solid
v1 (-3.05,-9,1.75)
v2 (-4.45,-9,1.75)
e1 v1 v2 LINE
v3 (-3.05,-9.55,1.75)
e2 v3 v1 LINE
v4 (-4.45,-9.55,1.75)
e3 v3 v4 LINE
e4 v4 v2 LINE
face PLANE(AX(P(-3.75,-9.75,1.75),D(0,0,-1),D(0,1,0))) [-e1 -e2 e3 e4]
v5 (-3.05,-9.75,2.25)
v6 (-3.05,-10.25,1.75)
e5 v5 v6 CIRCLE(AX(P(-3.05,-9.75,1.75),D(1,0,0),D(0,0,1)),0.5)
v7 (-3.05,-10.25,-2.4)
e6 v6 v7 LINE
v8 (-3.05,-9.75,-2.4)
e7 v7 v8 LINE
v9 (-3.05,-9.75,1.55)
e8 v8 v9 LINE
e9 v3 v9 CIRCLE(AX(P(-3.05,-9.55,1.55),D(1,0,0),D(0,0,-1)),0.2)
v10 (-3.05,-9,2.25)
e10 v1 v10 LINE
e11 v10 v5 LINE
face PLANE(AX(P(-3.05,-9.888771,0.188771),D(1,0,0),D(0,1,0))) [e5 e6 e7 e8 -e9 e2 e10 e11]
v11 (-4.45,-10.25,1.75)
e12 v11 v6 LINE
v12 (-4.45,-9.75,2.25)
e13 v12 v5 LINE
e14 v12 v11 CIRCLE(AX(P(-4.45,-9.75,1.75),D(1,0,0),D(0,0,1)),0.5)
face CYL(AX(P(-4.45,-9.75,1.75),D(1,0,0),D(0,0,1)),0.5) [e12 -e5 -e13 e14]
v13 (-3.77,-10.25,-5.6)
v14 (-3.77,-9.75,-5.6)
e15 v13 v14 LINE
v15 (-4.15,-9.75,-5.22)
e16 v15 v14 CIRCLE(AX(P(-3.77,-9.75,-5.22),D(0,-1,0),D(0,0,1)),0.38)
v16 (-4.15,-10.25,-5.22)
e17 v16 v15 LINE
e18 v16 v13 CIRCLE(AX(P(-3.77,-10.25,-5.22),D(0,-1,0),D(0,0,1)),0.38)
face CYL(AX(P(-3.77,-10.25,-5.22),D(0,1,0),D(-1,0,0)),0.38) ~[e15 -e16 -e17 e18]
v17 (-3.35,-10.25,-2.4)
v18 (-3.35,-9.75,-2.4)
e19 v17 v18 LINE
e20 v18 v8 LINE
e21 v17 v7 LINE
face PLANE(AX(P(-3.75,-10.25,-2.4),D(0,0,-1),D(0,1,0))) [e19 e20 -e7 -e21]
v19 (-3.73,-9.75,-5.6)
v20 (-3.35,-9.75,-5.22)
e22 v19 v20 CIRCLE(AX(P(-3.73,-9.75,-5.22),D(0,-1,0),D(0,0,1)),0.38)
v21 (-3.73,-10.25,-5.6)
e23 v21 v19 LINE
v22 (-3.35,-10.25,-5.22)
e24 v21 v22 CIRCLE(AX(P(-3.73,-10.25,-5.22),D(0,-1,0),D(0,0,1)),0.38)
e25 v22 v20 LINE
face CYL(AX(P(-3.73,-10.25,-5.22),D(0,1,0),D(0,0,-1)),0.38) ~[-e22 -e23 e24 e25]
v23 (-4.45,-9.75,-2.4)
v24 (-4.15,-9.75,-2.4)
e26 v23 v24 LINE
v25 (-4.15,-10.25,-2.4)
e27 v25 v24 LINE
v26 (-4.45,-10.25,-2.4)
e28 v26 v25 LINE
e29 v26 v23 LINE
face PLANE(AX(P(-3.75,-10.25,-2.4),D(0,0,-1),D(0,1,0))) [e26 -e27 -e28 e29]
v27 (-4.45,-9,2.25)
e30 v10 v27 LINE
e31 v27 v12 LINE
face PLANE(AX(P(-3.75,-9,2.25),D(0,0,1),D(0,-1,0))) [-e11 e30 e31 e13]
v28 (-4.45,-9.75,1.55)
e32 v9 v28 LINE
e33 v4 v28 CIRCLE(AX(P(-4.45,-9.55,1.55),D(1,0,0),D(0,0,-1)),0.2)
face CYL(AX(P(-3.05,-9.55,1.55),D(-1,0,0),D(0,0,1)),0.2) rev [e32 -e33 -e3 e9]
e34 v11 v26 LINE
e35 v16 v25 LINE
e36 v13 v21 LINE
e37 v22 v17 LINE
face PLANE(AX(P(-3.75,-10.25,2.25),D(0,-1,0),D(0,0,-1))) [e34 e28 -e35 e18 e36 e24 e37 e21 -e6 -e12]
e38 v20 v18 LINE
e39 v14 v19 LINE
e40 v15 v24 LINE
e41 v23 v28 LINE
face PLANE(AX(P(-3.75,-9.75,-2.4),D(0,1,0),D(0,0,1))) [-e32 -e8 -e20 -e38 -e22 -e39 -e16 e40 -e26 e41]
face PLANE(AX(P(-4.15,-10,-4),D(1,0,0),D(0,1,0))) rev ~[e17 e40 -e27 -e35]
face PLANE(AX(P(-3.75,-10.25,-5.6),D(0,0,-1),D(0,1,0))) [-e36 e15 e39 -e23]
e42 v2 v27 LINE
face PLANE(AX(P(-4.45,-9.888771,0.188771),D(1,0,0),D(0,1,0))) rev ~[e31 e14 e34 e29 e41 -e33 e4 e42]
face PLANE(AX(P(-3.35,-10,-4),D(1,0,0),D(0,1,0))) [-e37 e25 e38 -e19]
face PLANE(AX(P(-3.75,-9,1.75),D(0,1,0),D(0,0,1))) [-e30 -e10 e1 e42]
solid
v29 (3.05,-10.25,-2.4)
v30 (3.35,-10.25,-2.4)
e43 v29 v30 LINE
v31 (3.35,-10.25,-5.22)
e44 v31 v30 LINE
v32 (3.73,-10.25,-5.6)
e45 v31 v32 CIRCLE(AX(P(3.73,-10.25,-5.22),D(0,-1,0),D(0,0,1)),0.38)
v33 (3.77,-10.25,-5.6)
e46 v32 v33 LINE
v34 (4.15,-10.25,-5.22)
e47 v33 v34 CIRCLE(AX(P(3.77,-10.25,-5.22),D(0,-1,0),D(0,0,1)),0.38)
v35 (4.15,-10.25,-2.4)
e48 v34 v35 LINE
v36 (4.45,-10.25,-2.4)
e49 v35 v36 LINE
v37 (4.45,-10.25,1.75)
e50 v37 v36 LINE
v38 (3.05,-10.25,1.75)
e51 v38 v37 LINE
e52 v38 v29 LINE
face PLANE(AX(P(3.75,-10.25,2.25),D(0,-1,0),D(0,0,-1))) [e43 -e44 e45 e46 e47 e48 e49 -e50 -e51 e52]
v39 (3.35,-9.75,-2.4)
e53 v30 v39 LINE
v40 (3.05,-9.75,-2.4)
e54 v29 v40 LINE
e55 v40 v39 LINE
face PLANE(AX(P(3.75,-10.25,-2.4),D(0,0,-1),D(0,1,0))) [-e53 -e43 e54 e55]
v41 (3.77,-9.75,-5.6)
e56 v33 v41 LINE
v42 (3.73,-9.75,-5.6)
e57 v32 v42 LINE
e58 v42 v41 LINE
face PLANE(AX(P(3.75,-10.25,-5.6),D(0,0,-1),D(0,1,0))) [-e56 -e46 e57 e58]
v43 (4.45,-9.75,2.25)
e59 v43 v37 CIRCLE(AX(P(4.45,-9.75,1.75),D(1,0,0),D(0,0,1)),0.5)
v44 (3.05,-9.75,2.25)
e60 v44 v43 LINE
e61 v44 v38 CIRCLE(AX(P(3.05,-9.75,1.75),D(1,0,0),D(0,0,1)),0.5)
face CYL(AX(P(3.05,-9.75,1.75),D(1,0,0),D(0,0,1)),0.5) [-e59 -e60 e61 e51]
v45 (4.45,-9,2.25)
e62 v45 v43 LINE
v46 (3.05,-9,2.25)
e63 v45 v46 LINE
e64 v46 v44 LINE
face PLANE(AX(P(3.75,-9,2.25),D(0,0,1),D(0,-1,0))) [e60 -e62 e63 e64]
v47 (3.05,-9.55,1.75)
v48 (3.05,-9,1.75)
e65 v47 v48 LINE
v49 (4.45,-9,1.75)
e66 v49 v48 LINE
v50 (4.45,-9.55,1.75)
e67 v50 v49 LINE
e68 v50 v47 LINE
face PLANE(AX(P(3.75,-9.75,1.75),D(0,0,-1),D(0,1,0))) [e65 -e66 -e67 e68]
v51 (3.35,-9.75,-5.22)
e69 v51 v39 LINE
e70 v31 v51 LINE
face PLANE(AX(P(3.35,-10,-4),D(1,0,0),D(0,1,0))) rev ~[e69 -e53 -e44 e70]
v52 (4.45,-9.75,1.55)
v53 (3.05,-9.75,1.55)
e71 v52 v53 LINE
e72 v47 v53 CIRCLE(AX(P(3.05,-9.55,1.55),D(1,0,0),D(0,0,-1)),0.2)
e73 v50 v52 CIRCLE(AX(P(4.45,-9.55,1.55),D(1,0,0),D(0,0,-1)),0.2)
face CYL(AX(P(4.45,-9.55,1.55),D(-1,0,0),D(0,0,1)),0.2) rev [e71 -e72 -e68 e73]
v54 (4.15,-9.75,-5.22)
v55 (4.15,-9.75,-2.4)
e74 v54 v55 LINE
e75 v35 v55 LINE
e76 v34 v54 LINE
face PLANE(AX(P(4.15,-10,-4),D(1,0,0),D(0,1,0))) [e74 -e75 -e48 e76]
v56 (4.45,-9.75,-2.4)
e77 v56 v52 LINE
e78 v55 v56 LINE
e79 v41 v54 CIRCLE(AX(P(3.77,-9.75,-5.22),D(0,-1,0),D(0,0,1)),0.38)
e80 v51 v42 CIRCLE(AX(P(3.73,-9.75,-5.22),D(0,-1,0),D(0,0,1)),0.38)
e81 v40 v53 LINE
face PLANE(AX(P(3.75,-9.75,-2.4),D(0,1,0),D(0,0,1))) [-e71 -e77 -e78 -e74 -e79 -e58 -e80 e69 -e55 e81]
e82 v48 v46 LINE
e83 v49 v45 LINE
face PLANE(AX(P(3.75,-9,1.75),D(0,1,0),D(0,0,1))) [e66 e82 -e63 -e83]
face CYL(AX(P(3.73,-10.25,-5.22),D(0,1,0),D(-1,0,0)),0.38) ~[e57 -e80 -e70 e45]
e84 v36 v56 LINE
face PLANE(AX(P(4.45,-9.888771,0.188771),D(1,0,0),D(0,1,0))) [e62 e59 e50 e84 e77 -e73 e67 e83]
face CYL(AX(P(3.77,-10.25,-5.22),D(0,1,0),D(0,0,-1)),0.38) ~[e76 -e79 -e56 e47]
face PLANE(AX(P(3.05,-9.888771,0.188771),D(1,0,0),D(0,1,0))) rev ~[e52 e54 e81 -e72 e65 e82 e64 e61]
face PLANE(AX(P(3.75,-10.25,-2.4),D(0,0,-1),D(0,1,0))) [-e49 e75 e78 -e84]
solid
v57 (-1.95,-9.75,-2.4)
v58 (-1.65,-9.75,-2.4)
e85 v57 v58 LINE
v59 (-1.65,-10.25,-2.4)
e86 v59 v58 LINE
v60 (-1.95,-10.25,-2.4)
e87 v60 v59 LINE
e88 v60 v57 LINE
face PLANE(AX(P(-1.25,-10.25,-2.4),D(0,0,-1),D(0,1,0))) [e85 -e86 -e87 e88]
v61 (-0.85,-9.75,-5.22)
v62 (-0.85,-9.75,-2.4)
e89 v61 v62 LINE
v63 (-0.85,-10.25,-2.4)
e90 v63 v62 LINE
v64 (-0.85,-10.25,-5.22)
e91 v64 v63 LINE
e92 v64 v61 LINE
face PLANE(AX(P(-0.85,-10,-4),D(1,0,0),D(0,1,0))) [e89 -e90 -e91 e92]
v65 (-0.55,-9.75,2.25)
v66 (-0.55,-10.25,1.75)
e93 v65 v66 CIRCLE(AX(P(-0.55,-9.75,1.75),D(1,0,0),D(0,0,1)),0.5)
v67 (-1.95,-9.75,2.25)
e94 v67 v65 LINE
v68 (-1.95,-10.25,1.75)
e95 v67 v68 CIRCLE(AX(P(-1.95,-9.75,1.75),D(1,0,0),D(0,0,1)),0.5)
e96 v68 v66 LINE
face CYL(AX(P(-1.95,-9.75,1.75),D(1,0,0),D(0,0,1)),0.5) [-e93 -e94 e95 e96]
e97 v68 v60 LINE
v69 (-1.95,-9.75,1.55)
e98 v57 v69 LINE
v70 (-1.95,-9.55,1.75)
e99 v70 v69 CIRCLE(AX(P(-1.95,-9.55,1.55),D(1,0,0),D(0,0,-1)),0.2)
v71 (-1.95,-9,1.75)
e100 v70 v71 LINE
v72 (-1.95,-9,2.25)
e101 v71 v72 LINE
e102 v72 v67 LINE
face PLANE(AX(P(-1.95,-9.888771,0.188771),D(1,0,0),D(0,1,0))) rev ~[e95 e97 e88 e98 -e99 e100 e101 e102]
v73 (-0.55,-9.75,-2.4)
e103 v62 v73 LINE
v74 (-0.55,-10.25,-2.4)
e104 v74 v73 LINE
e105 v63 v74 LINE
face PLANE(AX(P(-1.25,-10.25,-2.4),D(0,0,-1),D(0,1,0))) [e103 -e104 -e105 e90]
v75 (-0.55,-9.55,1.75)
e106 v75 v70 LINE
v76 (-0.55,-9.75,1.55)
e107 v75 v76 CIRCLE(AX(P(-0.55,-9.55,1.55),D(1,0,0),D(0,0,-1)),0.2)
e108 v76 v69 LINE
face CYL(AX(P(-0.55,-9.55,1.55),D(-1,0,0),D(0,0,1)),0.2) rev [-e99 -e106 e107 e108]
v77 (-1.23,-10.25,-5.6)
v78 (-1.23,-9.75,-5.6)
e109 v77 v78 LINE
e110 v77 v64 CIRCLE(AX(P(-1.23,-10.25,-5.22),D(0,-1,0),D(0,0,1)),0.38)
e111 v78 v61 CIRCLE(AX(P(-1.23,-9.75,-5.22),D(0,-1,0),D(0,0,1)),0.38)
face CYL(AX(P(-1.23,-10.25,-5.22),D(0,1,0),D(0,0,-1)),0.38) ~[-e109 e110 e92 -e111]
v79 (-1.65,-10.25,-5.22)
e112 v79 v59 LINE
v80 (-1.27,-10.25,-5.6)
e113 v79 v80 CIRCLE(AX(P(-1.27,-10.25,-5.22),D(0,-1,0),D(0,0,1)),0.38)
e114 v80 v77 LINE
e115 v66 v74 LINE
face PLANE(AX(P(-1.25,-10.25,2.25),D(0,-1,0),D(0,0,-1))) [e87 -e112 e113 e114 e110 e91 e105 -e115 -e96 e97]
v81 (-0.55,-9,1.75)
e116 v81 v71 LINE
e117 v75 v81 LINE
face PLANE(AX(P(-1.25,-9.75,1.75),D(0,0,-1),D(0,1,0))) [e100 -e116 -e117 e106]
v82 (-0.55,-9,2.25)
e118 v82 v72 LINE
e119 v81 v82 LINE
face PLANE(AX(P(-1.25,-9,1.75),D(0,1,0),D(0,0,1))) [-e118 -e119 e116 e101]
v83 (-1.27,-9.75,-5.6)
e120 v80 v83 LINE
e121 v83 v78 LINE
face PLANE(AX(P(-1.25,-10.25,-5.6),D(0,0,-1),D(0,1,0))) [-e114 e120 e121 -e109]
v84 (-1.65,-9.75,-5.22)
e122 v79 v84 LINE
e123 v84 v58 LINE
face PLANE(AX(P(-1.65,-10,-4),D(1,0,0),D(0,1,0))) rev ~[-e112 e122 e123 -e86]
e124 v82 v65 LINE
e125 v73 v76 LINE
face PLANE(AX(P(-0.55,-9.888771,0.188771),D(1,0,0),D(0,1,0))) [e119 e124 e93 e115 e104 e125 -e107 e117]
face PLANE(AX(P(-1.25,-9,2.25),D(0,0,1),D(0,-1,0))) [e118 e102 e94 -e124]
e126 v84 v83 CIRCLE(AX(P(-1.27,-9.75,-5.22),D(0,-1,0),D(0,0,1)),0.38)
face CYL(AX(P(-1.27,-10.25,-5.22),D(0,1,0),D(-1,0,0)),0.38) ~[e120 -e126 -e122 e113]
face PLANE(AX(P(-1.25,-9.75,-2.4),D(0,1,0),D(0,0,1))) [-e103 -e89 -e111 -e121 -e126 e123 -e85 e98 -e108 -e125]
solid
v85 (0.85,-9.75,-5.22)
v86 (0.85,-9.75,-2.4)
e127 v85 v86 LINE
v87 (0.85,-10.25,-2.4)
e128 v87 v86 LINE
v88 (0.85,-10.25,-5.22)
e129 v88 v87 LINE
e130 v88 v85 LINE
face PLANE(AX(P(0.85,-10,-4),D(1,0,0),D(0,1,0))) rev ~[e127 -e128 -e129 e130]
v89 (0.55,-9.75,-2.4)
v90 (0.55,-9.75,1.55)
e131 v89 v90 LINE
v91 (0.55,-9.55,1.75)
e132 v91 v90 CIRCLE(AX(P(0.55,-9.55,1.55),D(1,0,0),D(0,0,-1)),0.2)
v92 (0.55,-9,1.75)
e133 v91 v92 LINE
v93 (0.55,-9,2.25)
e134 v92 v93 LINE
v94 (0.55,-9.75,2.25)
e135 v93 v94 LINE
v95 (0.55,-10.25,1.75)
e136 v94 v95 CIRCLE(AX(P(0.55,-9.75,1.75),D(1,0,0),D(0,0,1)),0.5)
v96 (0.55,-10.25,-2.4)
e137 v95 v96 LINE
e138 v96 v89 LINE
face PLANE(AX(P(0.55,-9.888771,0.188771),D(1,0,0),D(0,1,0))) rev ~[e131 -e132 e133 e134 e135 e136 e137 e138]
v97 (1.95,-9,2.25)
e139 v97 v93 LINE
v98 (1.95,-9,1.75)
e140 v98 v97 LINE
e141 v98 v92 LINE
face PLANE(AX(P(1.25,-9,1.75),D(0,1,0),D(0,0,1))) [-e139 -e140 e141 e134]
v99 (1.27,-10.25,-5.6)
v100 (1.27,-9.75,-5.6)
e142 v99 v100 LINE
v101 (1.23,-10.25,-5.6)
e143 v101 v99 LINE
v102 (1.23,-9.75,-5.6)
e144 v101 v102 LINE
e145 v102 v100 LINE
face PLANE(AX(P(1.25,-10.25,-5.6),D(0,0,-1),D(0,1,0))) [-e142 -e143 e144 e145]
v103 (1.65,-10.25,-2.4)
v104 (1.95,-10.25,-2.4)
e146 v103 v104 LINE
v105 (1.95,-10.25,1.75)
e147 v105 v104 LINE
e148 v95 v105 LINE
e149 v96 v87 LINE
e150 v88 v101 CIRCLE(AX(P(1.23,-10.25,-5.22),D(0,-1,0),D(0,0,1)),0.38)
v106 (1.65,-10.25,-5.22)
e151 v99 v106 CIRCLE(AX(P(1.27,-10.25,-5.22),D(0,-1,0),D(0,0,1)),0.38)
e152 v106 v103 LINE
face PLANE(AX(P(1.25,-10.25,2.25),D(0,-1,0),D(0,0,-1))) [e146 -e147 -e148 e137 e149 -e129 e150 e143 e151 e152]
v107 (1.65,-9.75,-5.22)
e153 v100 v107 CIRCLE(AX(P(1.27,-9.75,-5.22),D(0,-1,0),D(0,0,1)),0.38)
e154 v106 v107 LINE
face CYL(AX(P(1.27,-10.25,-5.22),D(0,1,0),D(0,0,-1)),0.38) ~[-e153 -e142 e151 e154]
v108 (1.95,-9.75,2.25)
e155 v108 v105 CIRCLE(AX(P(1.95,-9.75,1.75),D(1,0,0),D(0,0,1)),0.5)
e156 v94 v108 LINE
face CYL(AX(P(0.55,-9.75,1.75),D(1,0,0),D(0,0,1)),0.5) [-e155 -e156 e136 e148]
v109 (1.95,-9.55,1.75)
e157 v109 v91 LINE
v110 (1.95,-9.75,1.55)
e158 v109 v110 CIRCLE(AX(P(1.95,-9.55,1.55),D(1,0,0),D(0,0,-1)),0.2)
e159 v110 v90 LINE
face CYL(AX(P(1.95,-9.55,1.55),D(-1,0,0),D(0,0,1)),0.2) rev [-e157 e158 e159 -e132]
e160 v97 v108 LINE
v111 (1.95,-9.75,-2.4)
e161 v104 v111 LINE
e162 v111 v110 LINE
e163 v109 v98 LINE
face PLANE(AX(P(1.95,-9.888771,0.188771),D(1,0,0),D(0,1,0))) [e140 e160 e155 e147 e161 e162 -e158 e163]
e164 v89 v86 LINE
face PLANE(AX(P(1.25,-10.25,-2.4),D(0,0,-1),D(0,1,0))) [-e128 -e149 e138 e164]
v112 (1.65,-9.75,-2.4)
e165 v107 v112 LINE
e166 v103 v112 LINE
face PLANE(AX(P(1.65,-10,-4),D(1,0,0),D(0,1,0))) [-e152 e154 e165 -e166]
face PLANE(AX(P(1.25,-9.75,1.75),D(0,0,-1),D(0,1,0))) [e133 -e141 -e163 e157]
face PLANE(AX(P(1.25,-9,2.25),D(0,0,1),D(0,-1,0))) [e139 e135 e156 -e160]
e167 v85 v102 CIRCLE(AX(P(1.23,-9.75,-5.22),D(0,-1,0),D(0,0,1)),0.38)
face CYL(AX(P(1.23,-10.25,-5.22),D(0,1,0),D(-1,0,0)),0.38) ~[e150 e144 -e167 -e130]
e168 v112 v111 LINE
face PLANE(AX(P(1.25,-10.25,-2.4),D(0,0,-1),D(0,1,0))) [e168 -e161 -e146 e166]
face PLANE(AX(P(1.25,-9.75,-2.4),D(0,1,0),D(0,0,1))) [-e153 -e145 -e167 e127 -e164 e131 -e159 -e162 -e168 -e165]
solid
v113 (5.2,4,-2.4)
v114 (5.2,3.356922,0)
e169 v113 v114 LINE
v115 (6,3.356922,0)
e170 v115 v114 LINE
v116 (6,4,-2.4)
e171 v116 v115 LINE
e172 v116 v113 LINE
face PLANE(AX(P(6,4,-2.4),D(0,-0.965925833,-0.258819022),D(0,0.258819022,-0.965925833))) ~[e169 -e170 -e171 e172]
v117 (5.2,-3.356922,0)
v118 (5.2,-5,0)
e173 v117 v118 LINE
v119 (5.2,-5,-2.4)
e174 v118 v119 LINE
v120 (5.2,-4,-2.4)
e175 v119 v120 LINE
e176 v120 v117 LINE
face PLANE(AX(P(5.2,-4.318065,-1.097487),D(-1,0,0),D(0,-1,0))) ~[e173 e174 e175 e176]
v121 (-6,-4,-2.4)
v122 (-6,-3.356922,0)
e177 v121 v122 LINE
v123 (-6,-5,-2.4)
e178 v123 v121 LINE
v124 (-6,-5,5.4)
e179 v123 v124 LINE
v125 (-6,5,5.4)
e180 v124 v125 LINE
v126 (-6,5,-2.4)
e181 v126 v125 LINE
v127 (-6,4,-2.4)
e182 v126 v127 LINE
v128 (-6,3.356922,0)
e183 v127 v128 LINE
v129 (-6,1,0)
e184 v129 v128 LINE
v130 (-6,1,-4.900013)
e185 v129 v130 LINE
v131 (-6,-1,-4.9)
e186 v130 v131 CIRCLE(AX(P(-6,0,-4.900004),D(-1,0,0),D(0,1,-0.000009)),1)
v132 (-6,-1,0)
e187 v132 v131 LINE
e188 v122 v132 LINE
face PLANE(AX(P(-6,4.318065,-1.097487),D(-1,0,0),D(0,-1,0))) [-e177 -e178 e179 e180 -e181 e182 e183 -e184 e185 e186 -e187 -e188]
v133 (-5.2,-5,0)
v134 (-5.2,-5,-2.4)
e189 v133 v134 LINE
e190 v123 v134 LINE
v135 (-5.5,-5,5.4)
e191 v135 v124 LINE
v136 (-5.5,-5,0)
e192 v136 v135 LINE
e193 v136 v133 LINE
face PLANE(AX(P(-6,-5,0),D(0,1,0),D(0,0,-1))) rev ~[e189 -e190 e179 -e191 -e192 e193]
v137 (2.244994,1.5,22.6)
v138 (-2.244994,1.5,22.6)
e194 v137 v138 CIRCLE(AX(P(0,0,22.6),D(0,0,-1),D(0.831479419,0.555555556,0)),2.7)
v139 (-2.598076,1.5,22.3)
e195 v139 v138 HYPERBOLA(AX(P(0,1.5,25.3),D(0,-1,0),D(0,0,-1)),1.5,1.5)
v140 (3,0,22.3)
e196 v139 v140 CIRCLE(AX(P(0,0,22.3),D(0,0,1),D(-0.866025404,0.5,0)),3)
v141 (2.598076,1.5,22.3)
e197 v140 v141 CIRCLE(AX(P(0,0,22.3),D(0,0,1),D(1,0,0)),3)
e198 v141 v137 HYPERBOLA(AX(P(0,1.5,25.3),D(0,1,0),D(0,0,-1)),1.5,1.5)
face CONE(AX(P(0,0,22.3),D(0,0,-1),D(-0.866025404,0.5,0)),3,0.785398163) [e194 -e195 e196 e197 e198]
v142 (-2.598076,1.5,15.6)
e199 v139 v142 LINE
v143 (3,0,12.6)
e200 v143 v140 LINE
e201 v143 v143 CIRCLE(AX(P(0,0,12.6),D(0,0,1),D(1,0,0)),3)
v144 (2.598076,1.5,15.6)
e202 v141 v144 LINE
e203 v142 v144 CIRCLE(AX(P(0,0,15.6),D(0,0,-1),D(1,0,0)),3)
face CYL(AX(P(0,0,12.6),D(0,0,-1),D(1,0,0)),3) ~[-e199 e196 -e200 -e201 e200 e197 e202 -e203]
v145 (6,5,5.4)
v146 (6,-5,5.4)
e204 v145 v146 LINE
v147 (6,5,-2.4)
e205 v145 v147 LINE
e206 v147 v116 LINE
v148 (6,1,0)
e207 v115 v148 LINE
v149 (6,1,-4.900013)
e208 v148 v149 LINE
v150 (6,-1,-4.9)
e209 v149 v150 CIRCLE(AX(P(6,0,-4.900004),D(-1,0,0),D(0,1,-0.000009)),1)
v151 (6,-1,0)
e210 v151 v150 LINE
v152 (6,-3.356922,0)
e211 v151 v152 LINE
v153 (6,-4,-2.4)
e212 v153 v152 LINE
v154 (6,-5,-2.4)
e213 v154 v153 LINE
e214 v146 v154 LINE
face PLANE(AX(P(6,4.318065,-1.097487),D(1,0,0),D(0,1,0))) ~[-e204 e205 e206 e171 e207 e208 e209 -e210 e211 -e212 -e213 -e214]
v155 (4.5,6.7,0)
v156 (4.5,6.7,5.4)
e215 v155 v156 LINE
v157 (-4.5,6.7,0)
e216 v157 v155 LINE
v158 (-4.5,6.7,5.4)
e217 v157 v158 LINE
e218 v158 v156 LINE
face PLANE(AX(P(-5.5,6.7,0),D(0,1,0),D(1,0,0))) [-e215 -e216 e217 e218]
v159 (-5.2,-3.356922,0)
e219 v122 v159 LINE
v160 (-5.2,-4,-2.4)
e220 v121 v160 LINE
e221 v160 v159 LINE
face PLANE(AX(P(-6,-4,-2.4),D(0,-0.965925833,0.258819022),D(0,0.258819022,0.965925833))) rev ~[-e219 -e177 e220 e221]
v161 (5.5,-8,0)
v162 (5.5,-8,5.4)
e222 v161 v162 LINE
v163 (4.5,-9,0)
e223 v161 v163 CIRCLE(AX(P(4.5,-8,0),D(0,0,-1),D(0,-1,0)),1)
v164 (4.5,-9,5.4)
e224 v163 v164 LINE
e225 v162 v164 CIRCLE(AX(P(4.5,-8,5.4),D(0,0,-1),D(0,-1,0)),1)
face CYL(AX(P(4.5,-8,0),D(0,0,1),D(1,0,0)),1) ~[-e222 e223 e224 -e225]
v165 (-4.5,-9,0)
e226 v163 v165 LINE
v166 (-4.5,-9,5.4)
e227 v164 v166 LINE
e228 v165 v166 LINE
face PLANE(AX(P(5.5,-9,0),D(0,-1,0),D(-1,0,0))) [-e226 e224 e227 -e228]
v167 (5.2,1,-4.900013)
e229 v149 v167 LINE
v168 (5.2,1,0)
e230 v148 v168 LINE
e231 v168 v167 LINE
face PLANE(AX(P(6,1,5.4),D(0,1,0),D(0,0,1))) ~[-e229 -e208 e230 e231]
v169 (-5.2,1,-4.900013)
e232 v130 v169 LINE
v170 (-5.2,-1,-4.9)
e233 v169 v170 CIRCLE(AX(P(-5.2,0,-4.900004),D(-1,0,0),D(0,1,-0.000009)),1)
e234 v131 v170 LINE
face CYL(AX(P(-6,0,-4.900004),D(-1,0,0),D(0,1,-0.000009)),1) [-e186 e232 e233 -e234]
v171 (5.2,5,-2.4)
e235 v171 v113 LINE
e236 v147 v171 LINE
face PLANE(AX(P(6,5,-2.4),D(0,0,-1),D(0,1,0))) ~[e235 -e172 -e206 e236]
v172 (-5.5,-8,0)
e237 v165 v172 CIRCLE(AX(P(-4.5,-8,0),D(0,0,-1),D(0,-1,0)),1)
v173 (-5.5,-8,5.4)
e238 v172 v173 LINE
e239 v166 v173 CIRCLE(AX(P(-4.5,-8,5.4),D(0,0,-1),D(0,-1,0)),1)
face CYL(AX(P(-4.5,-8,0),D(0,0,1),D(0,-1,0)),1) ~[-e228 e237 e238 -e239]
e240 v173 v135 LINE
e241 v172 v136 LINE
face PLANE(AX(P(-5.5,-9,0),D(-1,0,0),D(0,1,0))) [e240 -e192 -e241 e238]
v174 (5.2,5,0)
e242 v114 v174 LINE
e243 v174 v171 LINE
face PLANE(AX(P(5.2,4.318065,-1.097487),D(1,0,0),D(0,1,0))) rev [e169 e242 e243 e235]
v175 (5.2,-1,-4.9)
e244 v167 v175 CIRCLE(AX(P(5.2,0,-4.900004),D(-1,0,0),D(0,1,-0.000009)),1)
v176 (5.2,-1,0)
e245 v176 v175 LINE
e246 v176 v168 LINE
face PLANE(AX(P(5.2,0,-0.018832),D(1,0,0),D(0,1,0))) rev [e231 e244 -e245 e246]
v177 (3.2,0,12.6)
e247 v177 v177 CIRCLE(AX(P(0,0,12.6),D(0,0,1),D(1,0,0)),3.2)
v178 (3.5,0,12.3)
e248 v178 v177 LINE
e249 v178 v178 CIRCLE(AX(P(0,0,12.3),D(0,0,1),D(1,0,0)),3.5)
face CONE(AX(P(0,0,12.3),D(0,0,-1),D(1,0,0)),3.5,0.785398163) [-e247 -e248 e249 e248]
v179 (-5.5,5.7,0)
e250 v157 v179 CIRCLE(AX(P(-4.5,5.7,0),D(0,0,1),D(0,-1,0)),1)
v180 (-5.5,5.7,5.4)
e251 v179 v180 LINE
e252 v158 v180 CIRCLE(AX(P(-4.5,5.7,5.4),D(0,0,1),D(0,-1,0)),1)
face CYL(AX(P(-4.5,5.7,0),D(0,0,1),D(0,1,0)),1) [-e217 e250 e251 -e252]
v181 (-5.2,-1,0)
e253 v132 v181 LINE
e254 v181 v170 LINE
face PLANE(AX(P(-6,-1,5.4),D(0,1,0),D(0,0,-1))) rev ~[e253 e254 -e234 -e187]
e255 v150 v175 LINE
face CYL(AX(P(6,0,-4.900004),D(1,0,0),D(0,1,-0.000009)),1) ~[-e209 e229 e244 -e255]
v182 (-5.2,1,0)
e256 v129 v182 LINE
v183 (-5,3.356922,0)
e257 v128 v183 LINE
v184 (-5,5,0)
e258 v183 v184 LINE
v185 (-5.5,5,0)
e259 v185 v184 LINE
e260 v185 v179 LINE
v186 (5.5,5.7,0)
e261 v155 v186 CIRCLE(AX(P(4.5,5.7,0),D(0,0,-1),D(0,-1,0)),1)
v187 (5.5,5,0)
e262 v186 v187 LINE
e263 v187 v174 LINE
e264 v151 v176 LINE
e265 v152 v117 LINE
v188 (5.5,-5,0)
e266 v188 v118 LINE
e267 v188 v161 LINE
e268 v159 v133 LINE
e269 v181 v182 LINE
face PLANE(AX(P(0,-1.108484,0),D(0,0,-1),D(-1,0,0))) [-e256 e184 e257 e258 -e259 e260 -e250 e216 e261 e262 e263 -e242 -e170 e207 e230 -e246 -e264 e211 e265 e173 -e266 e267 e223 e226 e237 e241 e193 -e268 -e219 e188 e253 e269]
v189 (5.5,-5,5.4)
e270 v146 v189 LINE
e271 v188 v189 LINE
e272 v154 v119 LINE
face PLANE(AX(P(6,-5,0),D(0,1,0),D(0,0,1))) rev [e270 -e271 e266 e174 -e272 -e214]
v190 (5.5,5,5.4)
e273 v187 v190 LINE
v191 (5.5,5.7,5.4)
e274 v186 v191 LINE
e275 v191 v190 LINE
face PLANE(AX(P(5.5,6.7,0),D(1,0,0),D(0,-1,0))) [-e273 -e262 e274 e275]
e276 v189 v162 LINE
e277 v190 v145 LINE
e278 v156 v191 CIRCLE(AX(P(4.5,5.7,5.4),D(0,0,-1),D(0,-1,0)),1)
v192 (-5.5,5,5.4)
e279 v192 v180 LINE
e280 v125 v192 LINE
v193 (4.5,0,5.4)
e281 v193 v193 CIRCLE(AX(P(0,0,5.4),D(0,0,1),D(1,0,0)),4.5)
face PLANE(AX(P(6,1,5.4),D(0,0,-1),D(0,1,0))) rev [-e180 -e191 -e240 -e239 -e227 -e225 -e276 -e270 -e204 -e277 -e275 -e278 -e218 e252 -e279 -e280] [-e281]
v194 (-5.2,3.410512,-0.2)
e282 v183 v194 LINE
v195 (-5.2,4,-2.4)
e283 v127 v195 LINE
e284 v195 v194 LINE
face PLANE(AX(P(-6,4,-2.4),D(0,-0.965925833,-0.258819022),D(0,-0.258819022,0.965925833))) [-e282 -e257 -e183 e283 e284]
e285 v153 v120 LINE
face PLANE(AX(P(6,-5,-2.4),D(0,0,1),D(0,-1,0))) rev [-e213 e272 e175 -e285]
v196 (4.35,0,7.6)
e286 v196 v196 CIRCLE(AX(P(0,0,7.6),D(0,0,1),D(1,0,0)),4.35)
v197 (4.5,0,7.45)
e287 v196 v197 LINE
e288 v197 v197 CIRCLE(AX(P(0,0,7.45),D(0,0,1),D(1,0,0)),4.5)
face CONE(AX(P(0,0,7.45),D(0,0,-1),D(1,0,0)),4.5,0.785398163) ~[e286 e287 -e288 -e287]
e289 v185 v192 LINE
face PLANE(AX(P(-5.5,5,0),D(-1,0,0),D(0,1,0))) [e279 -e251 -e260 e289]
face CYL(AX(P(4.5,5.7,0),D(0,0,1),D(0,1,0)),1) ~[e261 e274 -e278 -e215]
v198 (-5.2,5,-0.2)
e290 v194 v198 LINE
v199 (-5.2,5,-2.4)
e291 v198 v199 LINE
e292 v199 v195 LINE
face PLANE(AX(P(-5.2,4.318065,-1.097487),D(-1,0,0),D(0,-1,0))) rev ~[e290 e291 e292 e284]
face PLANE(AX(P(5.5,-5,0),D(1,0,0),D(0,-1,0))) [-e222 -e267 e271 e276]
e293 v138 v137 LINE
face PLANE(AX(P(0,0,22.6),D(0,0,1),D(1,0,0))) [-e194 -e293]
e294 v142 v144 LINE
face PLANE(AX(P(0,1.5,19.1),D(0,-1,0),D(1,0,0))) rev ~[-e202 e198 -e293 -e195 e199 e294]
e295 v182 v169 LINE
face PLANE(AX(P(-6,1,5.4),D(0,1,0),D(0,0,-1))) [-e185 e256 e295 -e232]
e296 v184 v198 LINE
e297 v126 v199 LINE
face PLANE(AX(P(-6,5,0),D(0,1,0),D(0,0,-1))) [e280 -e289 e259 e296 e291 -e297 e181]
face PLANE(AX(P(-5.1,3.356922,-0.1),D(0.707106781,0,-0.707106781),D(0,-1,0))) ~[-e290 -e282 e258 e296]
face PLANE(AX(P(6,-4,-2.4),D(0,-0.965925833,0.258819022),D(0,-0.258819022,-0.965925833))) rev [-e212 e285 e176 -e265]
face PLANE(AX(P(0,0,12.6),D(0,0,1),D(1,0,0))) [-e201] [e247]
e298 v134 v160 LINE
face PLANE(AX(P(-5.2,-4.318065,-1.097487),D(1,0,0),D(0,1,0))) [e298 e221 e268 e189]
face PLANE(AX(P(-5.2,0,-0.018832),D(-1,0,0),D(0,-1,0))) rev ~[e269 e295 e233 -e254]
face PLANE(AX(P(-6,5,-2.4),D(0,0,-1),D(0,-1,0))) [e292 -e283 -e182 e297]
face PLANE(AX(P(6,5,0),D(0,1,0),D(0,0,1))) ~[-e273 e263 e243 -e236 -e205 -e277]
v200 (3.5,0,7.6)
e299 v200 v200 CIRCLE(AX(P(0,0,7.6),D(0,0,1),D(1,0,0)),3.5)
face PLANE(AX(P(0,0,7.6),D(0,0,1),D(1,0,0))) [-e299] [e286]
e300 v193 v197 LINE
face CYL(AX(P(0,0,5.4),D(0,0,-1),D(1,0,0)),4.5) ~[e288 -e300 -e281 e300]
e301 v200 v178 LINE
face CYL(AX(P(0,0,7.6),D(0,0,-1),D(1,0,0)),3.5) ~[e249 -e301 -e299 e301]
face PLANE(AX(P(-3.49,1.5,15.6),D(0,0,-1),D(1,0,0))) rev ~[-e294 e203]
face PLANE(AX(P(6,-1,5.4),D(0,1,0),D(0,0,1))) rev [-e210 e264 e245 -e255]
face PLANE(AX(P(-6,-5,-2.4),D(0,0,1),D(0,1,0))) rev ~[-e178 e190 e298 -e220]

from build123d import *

# Parameters (mm, degrees)
PAD_DEPTH       = 5.4
FILLET_R        = 1
PAD001_DEPTH    = 0.8
PAD002_DEPTH    = 0.8
SKETCH003_R     = 4.5
PAD003_DEPTH    = 2.2
SKETCH004_R     = 3.5
PAD004_DEPTH    = 5
CHAMFER_SIZE    = 0.3
CHAMFER001_SIZE = 0.15
SKETCH005_R     = 3
PAD005_DEPTH    = 10
SKETCH006_W     = 6.98
SKETCH006_H     = 7
POCKET_DEPTH    = 5
CHAMFER002_SIZE = 0.2
CHAMFER003_SIZE = 0.3
PAD006_DEPTH    = 0.7
SKETCH009_W     = 0.5
SKETCH009_H     = 3.2
PAD007_DEPTH    = 0.4
FILLET001_R     = 0.5
FILLET002_R     = 0.2
FILLET003_R     = 0.38
PAD009_DEPTH    = 0.7
SKETCH011_W     = 0.5
SKETCH011_H     = 3.2
PAD008_DEPTH    = 0.4
FILLET006_R     = 0.5
FILLET004_R     = 0.2
FILLET005_R     = 0.38
PAD010_DEPTH    = 0.7
SKETCH012_W     = 0.5
SKETCH012_H     = 3.2
PAD011_DEPTH    = 0.4
FILLET009_R     = 0.5
FILLET007_R     = 0.2
FILLET008_R     = 0.38
PAD013_DEPTH    = 0.7
SKETCH014_W     = 0.5
SKETCH014_H     = 3.2
PAD012_DEPTH    = 0.4
FILLET010_R     = 0.5
FILLET012_R     = 0.2
FILLET011_R     = 0.38


with BuildPart() as geh_use:
    # Sketch → Pad (new body)
    with BuildSketch(Plane.XY):
        Polygon((-5.5, 6.7), (5.5, 6.7), (5.5, 5), (6, 5), (6, -5), (5.5, -5), (5.5, -9), (-5.5, -9), (-5.5, -5), (-6, -5), (-6, 5), (-5.5, 5), align=None)
    extrude(amount=PAD_DEPTH)

    # Fillet
    fillet_edges = [geh_use.edges().sort_by_distance(p)[0] for p in [
        (5.5, 6.7, 2.7),
        (-5.5, 6.7, 2.7),
        (-5.5, -9, 2.7),
        (5.5, -9, 2.7),
    ]]
    fillet(fillet_edges, radius=FILLET_R)

    # Sketch001 (on Face10 of Fillet) → Pad001 (join)
    with BuildSketch(Plane(origin=(-6, 0, 0), x_dir=(0, -1, 0), z_dir=(-1, 0, 0))):
        Polygon((-5, 0), (-5, -2.4), (-4, -2.4), (-3.356922, 0), align=None)
        Polygon((5, 0), (5, -2.4), (4, -2.4), (3.356922, 0), align=None)
    pad001 = extrude(amount=-PAD001_DEPTH)

    # Sketch002 (on Face10 of Pad001) → Pad002 (join)
    with BuildSketch(Plane(origin=(-6, 0, 0), x_dir=(0, -1, 0), z_dir=(-1, 0, 0))):
        with BuildLine():
            Line((-1, 5.4), (-1, -4.900013))
            ThreePointArc((-1, -4.900013), (7e-06, -5.900004), (1, -4.9))
            Line((1, 5.4), (1, -4.9))
            Line((-1, 5.4), (1, 5.4))
        make_face()
    pad002 = extrude(amount=-PAD002_DEPTH)

    # Mirrored: Pad001, Pad002 across YZ
    add(pad001.mirror(Plane.YZ))
    add(pad002.mirror(Plane.YZ))

    # Sketch003 (on Face5 of Mirrored) → Pad003 (join)
    with BuildSketch(Plane.XY.offset(5.4)):
        Circle(SKETCH003_R)
    extrude(amount=PAD003_DEPTH)

    # Sketch004 (on Face56 of Pad003) → Pad004 (join)
    with BuildSketch(Plane.XY.offset(7.6)):
        Circle(SKETCH004_R)
    extrude(amount=PAD004_DEPTH)

    # Chamfer
    chamfer_edges = [geh_use.edges().sort_by_distance(p)[0] for p in [
        (-3.5, 0, 12.6),
    ]]
    chamfer(chamfer_edges, length=CHAMFER_SIZE)

    # Chamfer001
    chamfer001_edges = [geh_use.edges().sort_by_distance(p)[0] for p in [
        (-4.5, 0, 7.6),
    ]]
    chamfer(chamfer001_edges, length=CHAMFER001_SIZE)

    # Sketch005 (on Face7 of Chamfer001) → Pad005 (join)
    with BuildSketch(Plane.XY.offset(12.6)):
        Circle(SKETCH005_R)
    extrude(amount=PAD005_DEPTH)

    # Sketch006 (on DatumPlane) → Pocket (cut)
    with BuildSketch(Plane.XZ.offset(-1.5)):
        with Locations((0, 19.1)):
            Rectangle(SKETCH006_W, SKETCH006_H)
    extrude(amount=-POCKET_DEPTH, mode=Mode.SUBTRACT)

    # Chamfer002
    chamfer002_edges = [geh_use.edges().sort_by_distance(p)[0] for p in [
        (-5.2, 4.178461, 0),
    ]]
    chamfer(chamfer002_edges, length=CHAMFER002_SIZE)

    # Chamfer003
    chamfer003_edges = [geh_use.edges().sort_by_distance(p)[0] for p in [
        (-0.776457, -2.897777, 22.6),
    ]]
    chamfer(chamfer003_edges, length=CHAMFER003_SIZE)


with BuildPart() as beinchen3:
    # Sketch007 (on DatumPlane) → Pad006 (new body, symmetric)
    with BuildSketch(Plane.YZ.offset(1.25)):
        Polygon((-9, 2.25), (-10.25, 2.25), (-10.25, -2.4), (-9.75, -2.4), (-9.75, 1.75), (-9, 1.75), align=None)
    extrude(amount=PAD006_DEPTH, both=True)

    # Sketch009 (on DatumPlane) → Pad007 (join, symmetric)
    with BuildSketch(Plane.YZ.offset(1.25)):
        with Locations((-10, -4)):
            Rectangle(SKETCH009_W, SKETCH009_H)
    extrude(amount=PAD007_DEPTH, both=True)

    # Fillet001
    fillet001_edges = [beinchen3.edges().sort_by_distance(p)[0] for p in [
        (1.25, -10.25, 2.25),
    ]]
    fillet(fillet001_edges, radius=FILLET001_R)

    # Fillet002
    fillet002_edges = [beinchen3.edges().sort_by_distance(p)[0] for p in [
        (1.25, -9.75, 1.75),
    ]]
    fillet(fillet002_edges, radius=FILLET002_R)

    # Fillet003
    fillet003_edges = [beinchen3.edges().sort_by_distance(p)[0] for p in [
        (0.85, -10, -5.6),
        (1.65, -10, -5.6),
    ]]
    fillet(fillet003_edges, radius=FILLET003_R)


with BuildPart() as beinchen2:
    # Sketch010 (on DatumPlane) → Pad009 (new body, symmetric)
    with BuildSketch(Plane.YZ.offset(-1.25)):
        Polygon((-9, 2.25), (-10.25, 2.25), (-10.25, -2.4), (-9.75, -2.4), (-9.75, 1.75), (-9, 1.75), align=None)
    extrude(amount=PAD009_DEPTH, both=True)

    # Sketch011 (on DatumPlane) → Pad008 (join, symmetric)
    with BuildSketch(Plane.YZ.offset(-1.25)):
        with Locations((-10, -4)):
            Rectangle(SKETCH011_W, SKETCH011_H)
    extrude(amount=PAD008_DEPTH, both=True)

    # Fillet006
    fillet006_edges = [beinchen2.edges().sort_by_distance(p)[0] for p in [
        (-1.25, -10.25, 2.25),
    ]]
    fillet(fillet006_edges, radius=FILLET006_R)

    # Fillet004
    fillet004_edges = [beinchen2.edges().sort_by_distance(p)[0] for p in [
        (-1.25, -9.75, 1.75),
    ]]
    fillet(fillet004_edges, radius=FILLET004_R)

    # Fillet005
    fillet005_edges = [beinchen2.edges().sort_by_distance(p)[0] for p in [
        (-1.65, -10, -5.6),
        (-0.85, -10, -5.6),
    ]]
    fillet(fillet005_edges, radius=FILLET005_R)


with BuildPart() as beinchen1:
    # Sketch013 (on DatumPlane) → Pad010 (new body, symmetric)
    with BuildSketch(Plane.YZ.offset(-3.75)):
        Polygon((-9, 2.25), (-10.25, 2.25), (-10.25, -2.4), (-9.75, -2.4), (-9.75, 1.75), (-9, 1.75), align=None)
    extrude(amount=PAD010_DEPTH, both=True)

    # Sketch012 (on DatumPlane) → Pad011 (join, symmetric)
    with BuildSketch(Plane.YZ.offset(-3.75)):
        with Locations((-10, -4)):
            Rectangle(SKETCH012_W, SKETCH012_H)
    extrude(amount=PAD011_DEPTH, both=True)

    # Fillet009
    fillet009_edges = [beinchen1.edges().sort_by_distance(p)[0] for p in [
        (-3.75, -10.25, 2.25),
    ]]
    fillet(fillet009_edges, radius=FILLET009_R)

    # Fillet007
    fillet007_edges = [beinchen1.edges().sort_by_distance(p)[0] for p in [
        (-3.75, -9.75, 1.75),
    ]]
    fillet(fillet007_edges, radius=FILLET007_R)

    # Fillet008
    fillet008_edges = [beinchen1.edges().sort_by_distance(p)[0] for p in [
        (-4.15, -10, -5.6),
        (-3.35, -10, -5.6),
    ]]
    fillet(fillet008_edges, radius=FILLET008_R)


with BuildPart() as beinchen4:
    # Sketch015 (on DatumPlane) → Pad013 (new body, symmetric)
    with BuildSketch(Plane.YZ.offset(3.75)):
        Polygon((-9, 2.25), (-10.25, 2.25), (-10.25, -2.4), (-9.75, -2.4), (-9.75, 1.75), (-9, 1.75), align=None)
    extrude(amount=PAD013_DEPTH, both=True)

    # Sketch014 (on DatumPlane) → Pad012 (join, symmetric)
    with BuildSketch(Plane.YZ.offset(3.75)):
        with Locations((-10, -4)):
            Rectangle(SKETCH014_W, SKETCH014_H)
    extrude(amount=PAD012_DEPTH, both=True)

    # Fillet010
    fillet010_edges = [beinchen4.edges().sort_by_distance(p)[0] for p in [
        (3.75, -10.25, 2.25),
    ]]
    fillet(fillet010_edges, radius=FILLET010_R)

    # Fillet012
    fillet012_edges = [beinchen4.edges().sort_by_distance(p)[0] for p in [
        (3.75, -9.75, 1.75),
    ]]
    fillet(fillet012_edges, radius=FILLET012_R)

    # Fillet011
    fillet011_edges = [beinchen4.edges().sort_by_distance(p)[0] for p in [
        (3.35, -10, -5.6),
        (4.15, -10, -5.6),
    ]]
    fillet(fillet011_edges, radius=FILLET011_R)


solid = Compound([geh_use.part, beinchen3.part, beinchen2.part, beinchen1.part, beinchen4.part])
